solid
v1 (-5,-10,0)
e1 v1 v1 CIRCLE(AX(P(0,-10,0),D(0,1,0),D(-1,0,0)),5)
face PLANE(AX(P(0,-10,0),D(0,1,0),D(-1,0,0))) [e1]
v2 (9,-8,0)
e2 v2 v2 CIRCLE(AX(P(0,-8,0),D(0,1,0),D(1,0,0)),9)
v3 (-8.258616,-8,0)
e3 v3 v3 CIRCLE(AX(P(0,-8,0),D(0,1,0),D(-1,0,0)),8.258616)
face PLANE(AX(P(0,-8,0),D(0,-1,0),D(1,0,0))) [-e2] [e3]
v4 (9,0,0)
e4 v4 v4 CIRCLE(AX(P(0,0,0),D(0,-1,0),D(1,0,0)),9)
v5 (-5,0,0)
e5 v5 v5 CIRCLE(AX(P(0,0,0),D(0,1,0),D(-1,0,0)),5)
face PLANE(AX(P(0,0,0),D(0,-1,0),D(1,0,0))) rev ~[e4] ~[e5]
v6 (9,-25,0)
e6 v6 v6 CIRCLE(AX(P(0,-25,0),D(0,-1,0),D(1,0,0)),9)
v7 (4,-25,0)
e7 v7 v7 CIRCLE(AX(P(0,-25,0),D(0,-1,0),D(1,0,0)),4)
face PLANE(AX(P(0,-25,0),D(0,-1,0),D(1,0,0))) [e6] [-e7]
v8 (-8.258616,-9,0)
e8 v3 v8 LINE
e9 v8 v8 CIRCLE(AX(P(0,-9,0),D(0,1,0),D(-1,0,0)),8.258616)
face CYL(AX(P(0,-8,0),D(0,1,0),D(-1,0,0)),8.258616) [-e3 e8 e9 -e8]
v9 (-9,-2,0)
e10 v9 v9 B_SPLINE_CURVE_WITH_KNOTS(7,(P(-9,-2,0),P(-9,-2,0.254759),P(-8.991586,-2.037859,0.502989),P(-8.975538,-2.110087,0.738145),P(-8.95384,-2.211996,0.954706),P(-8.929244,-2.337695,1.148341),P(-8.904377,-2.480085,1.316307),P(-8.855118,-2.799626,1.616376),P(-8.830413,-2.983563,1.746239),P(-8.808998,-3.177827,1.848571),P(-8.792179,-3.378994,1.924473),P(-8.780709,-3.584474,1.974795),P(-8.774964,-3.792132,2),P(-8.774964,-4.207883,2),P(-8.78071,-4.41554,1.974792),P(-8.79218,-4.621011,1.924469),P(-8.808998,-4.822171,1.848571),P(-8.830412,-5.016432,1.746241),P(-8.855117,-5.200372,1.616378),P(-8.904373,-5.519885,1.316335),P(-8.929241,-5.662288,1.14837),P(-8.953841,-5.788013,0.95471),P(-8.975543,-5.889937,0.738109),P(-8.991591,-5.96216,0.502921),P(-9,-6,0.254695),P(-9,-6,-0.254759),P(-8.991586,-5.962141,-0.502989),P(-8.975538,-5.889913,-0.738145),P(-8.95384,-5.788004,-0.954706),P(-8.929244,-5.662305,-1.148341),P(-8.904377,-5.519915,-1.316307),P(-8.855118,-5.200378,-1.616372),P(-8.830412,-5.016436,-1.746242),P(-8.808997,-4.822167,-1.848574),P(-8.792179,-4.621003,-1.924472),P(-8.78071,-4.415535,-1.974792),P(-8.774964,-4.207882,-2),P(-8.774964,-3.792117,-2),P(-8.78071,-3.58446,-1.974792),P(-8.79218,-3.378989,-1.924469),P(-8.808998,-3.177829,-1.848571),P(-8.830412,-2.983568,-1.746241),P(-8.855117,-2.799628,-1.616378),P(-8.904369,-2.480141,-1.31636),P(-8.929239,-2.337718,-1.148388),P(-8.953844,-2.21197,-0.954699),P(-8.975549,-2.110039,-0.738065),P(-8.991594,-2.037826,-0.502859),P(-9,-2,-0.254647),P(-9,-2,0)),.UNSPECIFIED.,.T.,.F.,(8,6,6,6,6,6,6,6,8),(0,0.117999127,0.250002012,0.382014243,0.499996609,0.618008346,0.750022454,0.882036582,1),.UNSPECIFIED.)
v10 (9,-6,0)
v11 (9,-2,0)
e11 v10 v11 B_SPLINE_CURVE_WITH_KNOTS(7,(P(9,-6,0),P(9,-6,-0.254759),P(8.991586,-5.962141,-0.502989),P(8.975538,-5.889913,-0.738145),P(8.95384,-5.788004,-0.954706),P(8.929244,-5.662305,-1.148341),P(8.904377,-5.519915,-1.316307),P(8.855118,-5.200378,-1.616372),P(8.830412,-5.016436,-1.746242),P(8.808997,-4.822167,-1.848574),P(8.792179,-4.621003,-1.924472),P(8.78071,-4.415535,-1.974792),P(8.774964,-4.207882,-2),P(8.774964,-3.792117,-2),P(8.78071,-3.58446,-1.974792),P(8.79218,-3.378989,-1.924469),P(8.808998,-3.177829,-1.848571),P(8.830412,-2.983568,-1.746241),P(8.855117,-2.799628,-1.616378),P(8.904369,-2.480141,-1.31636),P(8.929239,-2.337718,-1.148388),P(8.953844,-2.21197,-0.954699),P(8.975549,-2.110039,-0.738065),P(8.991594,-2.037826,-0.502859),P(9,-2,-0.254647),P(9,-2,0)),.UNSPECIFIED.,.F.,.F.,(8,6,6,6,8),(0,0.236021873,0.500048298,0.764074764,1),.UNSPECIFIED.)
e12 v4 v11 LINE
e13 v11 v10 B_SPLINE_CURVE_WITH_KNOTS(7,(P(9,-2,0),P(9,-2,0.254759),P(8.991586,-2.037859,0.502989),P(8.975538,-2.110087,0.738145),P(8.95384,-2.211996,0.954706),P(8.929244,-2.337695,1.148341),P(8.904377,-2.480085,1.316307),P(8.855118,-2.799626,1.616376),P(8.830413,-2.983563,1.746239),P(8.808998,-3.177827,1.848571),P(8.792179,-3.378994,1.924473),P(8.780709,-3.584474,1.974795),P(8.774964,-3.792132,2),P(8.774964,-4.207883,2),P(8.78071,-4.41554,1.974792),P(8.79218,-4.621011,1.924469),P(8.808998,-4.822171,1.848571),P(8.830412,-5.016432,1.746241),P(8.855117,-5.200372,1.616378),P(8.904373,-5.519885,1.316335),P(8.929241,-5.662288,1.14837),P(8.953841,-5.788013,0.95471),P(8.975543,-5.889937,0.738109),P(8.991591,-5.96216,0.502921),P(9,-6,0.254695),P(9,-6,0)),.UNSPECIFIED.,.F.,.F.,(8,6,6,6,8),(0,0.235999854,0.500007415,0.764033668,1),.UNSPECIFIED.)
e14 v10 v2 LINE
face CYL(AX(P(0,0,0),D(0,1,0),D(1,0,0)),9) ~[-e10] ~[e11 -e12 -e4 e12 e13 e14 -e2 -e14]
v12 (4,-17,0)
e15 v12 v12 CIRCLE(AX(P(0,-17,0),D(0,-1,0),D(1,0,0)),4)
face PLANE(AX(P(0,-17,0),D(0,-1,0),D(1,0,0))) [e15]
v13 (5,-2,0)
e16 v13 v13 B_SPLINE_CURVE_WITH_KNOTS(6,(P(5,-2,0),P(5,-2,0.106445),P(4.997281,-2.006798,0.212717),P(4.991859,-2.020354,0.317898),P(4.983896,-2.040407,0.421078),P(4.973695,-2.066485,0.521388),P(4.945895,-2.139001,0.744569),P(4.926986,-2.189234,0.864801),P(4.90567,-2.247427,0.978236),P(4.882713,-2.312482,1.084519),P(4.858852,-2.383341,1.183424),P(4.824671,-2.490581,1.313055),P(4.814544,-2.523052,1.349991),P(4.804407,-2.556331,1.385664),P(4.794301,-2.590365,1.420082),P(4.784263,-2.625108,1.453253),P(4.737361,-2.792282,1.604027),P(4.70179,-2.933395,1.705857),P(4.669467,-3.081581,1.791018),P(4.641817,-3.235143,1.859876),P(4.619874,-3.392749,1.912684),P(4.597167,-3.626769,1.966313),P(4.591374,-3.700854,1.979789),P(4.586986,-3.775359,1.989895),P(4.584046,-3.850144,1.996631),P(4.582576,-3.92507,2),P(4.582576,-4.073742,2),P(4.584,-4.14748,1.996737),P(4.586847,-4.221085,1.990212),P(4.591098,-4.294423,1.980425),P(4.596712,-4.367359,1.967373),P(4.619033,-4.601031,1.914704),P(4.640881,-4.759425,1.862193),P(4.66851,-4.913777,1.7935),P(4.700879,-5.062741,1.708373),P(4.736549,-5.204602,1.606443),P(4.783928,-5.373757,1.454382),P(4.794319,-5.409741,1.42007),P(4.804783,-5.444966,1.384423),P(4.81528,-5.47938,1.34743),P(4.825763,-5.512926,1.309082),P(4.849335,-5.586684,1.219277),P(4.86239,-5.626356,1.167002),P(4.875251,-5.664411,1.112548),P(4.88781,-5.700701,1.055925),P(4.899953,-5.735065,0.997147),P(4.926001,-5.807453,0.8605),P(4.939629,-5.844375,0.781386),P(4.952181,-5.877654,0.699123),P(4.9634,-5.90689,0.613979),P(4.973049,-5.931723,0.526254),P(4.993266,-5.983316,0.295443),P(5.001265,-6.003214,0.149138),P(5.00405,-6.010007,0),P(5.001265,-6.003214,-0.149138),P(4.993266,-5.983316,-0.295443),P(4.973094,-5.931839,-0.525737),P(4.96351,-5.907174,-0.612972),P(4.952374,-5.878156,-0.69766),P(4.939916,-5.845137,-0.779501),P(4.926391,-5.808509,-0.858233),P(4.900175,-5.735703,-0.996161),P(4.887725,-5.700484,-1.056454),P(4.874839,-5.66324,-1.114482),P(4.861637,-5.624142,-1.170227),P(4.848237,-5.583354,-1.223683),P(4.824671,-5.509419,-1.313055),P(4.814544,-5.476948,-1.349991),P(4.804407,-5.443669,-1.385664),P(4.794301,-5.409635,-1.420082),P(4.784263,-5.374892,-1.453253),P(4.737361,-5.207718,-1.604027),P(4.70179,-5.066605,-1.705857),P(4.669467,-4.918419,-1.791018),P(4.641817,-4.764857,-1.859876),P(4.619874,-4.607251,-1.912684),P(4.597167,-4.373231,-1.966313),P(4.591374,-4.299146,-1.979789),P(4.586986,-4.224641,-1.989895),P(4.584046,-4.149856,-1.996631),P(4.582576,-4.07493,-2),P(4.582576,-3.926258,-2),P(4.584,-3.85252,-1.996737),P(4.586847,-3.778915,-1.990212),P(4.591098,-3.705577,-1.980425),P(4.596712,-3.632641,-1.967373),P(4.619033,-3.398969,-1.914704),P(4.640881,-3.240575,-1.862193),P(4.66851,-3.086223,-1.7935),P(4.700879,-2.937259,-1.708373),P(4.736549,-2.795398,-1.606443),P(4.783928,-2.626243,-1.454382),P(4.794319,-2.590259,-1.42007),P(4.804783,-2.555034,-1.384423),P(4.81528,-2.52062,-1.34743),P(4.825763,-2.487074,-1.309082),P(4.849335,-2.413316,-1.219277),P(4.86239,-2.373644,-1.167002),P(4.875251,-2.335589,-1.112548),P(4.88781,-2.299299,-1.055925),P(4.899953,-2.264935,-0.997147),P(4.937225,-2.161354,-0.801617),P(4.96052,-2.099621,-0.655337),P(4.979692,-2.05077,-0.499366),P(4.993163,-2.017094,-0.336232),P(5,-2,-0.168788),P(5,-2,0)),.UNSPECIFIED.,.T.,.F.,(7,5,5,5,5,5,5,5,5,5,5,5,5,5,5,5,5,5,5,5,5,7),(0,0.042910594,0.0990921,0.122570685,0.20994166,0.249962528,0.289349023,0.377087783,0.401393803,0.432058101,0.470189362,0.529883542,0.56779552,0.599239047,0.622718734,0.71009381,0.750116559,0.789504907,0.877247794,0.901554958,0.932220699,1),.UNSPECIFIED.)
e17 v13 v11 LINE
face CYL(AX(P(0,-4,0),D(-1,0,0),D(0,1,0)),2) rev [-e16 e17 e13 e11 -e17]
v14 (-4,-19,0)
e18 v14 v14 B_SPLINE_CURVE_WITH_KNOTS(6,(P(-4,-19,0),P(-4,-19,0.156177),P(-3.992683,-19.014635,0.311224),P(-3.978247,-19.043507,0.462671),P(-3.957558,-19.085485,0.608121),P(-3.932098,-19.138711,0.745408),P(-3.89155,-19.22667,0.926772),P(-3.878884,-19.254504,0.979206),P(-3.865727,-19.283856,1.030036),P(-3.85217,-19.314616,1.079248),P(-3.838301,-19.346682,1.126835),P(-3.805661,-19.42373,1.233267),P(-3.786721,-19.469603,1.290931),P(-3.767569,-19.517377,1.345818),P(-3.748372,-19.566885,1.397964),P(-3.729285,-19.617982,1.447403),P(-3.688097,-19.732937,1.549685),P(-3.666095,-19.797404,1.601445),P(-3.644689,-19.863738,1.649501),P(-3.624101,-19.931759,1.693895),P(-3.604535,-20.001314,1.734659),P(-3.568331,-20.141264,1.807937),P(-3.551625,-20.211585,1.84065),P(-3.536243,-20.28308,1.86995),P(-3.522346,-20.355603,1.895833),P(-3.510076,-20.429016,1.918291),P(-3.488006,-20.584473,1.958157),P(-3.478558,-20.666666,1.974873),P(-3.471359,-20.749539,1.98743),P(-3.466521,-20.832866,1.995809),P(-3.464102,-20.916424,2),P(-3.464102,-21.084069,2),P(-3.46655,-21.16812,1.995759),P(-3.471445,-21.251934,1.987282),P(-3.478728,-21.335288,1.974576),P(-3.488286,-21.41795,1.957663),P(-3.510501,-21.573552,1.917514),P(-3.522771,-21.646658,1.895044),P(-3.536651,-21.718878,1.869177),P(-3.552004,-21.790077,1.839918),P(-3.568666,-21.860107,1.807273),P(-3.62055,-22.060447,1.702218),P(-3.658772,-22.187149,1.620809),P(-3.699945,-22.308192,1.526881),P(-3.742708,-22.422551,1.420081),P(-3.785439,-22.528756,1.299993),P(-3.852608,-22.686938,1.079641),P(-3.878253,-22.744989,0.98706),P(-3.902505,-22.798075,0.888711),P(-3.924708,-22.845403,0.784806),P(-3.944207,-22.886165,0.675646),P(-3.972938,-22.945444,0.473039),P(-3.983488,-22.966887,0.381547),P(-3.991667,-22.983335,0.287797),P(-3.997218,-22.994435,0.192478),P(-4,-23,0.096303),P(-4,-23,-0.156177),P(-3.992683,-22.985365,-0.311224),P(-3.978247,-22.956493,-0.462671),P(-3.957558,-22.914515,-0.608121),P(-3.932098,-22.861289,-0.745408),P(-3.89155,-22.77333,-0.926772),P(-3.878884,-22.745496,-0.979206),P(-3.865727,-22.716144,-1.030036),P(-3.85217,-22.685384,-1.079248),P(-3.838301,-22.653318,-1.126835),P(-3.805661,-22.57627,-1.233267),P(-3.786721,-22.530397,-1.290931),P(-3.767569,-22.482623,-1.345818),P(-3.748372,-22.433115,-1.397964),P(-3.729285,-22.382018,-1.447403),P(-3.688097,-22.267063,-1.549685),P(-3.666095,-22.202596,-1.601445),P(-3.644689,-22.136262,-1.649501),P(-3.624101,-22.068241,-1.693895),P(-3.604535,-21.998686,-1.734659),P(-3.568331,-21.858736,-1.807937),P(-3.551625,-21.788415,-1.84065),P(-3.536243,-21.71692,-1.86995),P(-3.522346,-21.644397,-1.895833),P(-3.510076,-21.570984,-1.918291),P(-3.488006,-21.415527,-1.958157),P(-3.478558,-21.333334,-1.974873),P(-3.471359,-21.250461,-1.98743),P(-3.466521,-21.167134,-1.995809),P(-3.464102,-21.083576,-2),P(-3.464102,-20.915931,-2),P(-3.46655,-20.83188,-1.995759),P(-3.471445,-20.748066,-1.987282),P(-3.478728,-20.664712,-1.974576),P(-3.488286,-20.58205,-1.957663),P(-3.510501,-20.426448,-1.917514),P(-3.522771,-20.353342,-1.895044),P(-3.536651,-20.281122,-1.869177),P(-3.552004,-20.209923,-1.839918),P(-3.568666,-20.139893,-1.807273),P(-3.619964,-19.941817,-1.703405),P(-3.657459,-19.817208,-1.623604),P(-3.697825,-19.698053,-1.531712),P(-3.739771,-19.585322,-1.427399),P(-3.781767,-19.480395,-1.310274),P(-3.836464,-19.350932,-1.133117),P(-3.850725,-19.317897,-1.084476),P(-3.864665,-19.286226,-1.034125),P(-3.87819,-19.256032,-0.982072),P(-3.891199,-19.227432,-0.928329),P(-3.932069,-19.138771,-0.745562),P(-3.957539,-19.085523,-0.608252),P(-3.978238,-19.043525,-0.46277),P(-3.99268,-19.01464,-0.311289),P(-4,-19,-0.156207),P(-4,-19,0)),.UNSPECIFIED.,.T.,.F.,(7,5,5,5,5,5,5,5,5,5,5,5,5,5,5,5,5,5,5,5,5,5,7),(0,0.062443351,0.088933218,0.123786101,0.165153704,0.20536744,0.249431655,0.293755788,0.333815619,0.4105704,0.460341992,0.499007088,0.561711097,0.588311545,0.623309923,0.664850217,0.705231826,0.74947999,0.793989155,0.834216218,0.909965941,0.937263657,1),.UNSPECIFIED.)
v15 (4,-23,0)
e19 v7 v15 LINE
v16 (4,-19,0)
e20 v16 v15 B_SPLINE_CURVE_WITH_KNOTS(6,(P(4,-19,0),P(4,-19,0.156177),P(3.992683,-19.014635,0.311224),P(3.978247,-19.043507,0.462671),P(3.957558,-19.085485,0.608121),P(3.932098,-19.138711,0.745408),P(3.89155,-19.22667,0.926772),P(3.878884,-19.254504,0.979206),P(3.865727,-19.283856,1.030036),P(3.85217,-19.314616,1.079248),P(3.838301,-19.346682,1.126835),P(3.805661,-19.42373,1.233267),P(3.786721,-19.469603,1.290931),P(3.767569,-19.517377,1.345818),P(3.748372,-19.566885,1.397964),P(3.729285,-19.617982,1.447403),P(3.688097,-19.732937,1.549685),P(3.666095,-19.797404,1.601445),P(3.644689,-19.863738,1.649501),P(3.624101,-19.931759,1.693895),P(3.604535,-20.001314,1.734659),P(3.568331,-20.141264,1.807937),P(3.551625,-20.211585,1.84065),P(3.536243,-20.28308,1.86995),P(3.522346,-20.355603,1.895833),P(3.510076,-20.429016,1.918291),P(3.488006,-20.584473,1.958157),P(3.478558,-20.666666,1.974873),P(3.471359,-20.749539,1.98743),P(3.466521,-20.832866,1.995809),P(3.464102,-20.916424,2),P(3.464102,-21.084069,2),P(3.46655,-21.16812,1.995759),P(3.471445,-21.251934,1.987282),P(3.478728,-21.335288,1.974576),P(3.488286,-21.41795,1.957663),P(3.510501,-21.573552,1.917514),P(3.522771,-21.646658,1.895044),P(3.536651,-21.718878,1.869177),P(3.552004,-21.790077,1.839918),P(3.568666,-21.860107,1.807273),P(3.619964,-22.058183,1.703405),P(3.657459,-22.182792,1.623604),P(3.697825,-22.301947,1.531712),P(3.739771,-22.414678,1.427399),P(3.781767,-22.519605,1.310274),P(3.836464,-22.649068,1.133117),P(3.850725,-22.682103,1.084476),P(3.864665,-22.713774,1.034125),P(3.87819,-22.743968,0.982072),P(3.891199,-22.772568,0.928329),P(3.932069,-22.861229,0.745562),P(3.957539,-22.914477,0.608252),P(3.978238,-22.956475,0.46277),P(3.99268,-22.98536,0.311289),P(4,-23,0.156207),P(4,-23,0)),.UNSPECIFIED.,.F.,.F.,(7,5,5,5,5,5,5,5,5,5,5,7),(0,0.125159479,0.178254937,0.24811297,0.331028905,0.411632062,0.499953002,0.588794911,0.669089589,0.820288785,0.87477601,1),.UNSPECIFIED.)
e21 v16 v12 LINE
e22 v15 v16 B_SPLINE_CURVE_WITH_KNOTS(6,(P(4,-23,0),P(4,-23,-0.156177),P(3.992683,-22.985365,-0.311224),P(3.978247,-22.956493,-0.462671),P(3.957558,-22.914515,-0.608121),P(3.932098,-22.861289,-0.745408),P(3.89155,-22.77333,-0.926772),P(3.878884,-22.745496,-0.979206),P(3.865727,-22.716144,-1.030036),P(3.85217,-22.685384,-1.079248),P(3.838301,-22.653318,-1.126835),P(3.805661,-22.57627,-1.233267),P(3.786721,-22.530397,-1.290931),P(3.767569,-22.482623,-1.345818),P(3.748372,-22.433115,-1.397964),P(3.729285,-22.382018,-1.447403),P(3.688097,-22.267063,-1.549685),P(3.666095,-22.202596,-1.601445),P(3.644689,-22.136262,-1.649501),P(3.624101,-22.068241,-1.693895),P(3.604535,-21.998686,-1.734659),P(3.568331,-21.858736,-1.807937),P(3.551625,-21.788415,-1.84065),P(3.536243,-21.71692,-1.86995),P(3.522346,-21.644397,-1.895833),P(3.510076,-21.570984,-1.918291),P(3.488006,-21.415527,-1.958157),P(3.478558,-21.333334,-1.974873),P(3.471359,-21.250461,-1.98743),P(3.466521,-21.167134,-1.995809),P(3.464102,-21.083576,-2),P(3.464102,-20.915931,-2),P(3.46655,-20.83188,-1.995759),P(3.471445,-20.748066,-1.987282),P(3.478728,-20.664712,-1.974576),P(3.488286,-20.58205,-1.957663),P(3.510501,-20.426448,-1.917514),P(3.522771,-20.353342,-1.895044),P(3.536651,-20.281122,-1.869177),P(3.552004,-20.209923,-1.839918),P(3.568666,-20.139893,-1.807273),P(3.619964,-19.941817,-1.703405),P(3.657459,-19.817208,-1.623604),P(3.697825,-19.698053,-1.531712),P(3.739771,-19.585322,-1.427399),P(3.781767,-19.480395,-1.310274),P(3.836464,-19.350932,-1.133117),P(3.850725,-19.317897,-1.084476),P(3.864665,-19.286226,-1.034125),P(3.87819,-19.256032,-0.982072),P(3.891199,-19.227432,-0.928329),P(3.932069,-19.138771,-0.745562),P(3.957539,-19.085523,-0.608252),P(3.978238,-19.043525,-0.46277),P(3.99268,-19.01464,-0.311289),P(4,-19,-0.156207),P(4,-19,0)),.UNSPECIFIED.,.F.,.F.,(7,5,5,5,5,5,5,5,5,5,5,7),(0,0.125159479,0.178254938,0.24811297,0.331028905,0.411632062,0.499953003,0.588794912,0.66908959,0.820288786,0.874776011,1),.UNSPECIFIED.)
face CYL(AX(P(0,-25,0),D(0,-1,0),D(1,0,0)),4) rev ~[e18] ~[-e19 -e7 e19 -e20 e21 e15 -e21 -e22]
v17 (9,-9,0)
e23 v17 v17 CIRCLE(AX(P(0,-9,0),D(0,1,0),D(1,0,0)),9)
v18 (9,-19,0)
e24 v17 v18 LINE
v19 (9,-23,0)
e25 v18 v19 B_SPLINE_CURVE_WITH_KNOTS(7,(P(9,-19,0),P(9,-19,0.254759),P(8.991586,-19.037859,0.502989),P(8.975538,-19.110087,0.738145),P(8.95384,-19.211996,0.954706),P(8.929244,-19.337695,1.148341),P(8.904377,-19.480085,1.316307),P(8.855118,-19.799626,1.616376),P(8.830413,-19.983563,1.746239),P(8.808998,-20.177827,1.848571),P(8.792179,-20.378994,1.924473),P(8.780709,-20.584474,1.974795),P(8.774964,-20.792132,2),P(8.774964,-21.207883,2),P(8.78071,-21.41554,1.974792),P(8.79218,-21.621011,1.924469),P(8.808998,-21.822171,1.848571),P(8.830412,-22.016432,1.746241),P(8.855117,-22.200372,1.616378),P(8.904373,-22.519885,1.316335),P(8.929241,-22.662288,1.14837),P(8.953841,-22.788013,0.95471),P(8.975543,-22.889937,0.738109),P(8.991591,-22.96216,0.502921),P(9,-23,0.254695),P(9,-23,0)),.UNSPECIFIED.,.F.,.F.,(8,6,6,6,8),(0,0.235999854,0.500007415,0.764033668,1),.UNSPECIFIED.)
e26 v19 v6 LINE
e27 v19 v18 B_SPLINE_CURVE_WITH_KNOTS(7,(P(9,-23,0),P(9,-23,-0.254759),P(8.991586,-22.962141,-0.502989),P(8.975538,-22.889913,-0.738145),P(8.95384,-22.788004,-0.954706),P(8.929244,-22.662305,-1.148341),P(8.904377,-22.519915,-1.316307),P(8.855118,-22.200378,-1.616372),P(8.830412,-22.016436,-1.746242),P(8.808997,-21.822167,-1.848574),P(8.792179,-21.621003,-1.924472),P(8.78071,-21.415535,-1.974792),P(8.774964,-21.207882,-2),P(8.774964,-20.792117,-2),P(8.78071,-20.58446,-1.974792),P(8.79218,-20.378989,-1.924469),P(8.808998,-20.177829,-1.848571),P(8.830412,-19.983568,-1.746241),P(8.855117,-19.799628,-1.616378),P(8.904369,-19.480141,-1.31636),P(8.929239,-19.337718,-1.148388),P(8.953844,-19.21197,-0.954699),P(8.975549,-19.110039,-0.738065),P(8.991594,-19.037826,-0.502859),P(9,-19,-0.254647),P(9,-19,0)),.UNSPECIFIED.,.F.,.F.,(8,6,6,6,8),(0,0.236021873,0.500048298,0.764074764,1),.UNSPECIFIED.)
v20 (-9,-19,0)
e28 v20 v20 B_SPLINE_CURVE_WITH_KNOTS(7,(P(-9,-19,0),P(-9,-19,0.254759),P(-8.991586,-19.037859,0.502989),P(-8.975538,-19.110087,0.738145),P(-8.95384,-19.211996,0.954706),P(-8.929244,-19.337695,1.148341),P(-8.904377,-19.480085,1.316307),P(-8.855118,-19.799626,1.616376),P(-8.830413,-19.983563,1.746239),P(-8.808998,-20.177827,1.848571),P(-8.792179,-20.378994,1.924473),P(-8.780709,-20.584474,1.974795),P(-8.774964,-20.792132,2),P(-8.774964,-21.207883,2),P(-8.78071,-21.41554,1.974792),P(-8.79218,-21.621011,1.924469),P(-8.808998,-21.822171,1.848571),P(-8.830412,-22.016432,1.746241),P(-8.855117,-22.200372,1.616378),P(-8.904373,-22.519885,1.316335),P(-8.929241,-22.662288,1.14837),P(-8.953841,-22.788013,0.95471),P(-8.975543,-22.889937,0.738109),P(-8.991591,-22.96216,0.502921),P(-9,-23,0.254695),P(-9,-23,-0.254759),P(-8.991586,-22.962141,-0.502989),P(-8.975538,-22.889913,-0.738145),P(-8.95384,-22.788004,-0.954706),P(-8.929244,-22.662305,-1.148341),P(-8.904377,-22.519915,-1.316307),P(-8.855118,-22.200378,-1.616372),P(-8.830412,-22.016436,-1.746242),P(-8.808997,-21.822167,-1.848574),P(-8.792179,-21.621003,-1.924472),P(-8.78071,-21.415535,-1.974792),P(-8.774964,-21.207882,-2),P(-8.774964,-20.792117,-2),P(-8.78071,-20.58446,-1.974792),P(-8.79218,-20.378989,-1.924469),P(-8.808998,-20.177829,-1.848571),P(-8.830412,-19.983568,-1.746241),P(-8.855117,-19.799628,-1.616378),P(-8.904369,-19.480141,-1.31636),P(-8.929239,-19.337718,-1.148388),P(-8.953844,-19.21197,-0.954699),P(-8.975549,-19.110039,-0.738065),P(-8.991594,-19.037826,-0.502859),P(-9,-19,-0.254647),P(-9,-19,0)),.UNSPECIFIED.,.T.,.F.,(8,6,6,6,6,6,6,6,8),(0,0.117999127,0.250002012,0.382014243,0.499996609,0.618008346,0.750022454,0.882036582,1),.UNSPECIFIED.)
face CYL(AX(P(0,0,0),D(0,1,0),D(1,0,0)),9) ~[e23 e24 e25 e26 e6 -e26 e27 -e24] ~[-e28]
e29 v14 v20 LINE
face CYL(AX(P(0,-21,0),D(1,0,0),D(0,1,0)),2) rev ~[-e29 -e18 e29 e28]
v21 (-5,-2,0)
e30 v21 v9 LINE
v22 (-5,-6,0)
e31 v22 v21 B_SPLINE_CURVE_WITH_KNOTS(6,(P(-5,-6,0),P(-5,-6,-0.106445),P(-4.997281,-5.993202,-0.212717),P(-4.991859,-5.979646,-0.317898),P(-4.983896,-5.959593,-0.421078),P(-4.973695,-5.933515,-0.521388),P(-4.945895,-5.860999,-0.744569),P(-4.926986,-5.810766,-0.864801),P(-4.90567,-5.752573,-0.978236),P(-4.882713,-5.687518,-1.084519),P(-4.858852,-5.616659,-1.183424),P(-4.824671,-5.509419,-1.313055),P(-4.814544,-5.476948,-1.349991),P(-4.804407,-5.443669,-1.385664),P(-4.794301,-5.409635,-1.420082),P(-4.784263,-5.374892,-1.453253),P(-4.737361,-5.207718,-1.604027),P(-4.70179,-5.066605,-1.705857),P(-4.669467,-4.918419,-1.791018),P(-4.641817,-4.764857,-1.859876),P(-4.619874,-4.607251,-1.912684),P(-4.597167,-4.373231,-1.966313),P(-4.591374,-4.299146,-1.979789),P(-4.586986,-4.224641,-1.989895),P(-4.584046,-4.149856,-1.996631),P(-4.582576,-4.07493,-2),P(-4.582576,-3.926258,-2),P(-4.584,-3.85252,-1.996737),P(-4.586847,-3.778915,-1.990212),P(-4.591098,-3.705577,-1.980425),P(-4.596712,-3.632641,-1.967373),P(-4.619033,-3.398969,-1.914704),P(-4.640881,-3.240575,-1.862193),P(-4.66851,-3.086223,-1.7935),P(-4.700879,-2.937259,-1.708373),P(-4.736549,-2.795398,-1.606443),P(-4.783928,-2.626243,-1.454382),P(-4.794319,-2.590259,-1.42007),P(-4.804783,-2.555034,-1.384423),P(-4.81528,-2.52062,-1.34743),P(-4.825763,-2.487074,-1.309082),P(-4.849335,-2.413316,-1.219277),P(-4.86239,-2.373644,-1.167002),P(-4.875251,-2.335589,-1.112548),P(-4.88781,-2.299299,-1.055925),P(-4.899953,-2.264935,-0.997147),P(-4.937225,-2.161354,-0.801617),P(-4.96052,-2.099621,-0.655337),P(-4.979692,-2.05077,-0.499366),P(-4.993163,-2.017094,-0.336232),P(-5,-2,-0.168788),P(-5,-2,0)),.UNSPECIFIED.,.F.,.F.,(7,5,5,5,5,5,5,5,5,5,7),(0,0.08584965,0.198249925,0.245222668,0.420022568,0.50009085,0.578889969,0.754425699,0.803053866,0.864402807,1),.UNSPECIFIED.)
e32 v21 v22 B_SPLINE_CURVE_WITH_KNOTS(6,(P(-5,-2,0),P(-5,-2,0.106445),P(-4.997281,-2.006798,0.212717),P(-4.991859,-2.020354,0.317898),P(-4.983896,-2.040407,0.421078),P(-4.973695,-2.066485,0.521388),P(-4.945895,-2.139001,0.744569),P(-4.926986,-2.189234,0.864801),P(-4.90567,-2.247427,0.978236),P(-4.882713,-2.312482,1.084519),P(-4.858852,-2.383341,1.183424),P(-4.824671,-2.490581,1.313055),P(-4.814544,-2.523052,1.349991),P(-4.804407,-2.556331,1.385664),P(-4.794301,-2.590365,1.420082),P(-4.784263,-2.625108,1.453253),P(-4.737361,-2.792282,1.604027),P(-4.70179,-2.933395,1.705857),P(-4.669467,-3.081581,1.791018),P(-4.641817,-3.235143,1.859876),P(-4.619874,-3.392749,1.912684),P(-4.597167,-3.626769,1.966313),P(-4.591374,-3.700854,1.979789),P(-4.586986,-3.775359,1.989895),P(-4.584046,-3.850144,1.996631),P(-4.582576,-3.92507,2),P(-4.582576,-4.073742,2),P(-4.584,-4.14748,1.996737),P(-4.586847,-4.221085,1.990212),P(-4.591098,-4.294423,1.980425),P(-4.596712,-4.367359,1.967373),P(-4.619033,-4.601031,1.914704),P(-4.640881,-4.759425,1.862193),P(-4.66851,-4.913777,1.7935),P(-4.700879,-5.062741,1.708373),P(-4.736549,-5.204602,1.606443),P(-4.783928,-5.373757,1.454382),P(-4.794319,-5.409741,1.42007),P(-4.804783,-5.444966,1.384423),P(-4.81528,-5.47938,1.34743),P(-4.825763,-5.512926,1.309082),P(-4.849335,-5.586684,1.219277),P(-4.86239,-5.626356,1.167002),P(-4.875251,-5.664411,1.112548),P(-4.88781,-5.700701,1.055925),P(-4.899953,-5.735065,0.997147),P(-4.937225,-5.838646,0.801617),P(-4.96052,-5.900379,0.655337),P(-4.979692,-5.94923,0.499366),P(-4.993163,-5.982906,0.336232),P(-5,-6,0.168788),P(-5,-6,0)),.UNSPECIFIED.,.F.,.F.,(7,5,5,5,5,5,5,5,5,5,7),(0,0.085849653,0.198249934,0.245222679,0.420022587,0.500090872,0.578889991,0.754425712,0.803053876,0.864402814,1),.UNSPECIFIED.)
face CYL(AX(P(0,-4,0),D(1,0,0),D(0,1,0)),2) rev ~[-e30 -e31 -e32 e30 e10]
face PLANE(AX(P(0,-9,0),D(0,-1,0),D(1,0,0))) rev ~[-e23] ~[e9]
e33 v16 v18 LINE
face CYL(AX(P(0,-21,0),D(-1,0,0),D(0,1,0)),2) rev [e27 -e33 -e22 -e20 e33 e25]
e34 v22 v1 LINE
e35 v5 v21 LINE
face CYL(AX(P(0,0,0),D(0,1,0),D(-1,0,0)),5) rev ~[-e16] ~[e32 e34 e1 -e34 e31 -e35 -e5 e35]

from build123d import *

# Parameters (mm, degrees)
F0_R          = 9
F1_DEPTH      = 25
F2_R          = 5
F3_DEPTH      = 10
F4_R          = 4
F5_DEPTH      = 8
F6_R          = 2
F7_DEPTH      = 9.001
F7_DEPTH_BACK = 9.001
F9_R          = 9.6900130566
F10_DEPTH     = 1
F11_R         = 8.2586159941
F12_DEPTH     = 17.0010001


with BuildPart() as f1:
    # F0 (on Front) → F1 (new body)
    with BuildSketch(Plane.XZ):
        Circle(F0_R)
    extrude(amount=F1_DEPTH)

    # F2 (on face) → F3 (cut)
    with BuildSketch(Plane(origin=(0, 0, 0), x_dir=(-1, 0, 0), z_dir=(0, 1, 0))):
        Circle(F2_R)
    extrude(amount=-F3_DEPTH, mode=Mode.SUBTRACT)

    # F4 (on face) → F5 (cut)
    with BuildSketch(Plane.XZ.offset(25)):
        Circle(F4_R)
    extrude(amount=-F5_DEPTH, mode=Mode.SUBTRACT)

    # F6 (on Right) → F7 (cut, two sides)
    with BuildSketch(Plane.YZ) as f7_sk:
        with Locations((-21, 0)):
            Circle(F6_R)
        with Locations((-4, 0)):
            Circle(F6_R)
    extrude(amount=-F7_DEPTH, mode=Mode.SUBTRACT)
    extrude(f7_sk.sketch, amount=F7_DEPTH_BACK, mode=Mode.SUBTRACT)


with BuildPart() as f10:
    # F9 (on offset) → F10 (new body)
    with BuildSketch(Plane.XZ.offset(8)):
        Circle(F9_R)
    extrude(amount=F10_DEPTH)

    # F11 (on face) → F12 (cut, through all)
    with BuildSketch(Plane(origin=(0, -8, 0), x_dir=(-1, 0, 0), z_dir=(0, 1, 0))):
        Circle(F11_R)
    extrude(amount=-F12_DEPTH, mode=Mode.SUBTRACT)


with BuildPart() as f1_1:
    add(f1.part)

    # F13: cut F10
    add(f10.part, mode=Mode.SUBTRACT)


solid = f1_1.part
